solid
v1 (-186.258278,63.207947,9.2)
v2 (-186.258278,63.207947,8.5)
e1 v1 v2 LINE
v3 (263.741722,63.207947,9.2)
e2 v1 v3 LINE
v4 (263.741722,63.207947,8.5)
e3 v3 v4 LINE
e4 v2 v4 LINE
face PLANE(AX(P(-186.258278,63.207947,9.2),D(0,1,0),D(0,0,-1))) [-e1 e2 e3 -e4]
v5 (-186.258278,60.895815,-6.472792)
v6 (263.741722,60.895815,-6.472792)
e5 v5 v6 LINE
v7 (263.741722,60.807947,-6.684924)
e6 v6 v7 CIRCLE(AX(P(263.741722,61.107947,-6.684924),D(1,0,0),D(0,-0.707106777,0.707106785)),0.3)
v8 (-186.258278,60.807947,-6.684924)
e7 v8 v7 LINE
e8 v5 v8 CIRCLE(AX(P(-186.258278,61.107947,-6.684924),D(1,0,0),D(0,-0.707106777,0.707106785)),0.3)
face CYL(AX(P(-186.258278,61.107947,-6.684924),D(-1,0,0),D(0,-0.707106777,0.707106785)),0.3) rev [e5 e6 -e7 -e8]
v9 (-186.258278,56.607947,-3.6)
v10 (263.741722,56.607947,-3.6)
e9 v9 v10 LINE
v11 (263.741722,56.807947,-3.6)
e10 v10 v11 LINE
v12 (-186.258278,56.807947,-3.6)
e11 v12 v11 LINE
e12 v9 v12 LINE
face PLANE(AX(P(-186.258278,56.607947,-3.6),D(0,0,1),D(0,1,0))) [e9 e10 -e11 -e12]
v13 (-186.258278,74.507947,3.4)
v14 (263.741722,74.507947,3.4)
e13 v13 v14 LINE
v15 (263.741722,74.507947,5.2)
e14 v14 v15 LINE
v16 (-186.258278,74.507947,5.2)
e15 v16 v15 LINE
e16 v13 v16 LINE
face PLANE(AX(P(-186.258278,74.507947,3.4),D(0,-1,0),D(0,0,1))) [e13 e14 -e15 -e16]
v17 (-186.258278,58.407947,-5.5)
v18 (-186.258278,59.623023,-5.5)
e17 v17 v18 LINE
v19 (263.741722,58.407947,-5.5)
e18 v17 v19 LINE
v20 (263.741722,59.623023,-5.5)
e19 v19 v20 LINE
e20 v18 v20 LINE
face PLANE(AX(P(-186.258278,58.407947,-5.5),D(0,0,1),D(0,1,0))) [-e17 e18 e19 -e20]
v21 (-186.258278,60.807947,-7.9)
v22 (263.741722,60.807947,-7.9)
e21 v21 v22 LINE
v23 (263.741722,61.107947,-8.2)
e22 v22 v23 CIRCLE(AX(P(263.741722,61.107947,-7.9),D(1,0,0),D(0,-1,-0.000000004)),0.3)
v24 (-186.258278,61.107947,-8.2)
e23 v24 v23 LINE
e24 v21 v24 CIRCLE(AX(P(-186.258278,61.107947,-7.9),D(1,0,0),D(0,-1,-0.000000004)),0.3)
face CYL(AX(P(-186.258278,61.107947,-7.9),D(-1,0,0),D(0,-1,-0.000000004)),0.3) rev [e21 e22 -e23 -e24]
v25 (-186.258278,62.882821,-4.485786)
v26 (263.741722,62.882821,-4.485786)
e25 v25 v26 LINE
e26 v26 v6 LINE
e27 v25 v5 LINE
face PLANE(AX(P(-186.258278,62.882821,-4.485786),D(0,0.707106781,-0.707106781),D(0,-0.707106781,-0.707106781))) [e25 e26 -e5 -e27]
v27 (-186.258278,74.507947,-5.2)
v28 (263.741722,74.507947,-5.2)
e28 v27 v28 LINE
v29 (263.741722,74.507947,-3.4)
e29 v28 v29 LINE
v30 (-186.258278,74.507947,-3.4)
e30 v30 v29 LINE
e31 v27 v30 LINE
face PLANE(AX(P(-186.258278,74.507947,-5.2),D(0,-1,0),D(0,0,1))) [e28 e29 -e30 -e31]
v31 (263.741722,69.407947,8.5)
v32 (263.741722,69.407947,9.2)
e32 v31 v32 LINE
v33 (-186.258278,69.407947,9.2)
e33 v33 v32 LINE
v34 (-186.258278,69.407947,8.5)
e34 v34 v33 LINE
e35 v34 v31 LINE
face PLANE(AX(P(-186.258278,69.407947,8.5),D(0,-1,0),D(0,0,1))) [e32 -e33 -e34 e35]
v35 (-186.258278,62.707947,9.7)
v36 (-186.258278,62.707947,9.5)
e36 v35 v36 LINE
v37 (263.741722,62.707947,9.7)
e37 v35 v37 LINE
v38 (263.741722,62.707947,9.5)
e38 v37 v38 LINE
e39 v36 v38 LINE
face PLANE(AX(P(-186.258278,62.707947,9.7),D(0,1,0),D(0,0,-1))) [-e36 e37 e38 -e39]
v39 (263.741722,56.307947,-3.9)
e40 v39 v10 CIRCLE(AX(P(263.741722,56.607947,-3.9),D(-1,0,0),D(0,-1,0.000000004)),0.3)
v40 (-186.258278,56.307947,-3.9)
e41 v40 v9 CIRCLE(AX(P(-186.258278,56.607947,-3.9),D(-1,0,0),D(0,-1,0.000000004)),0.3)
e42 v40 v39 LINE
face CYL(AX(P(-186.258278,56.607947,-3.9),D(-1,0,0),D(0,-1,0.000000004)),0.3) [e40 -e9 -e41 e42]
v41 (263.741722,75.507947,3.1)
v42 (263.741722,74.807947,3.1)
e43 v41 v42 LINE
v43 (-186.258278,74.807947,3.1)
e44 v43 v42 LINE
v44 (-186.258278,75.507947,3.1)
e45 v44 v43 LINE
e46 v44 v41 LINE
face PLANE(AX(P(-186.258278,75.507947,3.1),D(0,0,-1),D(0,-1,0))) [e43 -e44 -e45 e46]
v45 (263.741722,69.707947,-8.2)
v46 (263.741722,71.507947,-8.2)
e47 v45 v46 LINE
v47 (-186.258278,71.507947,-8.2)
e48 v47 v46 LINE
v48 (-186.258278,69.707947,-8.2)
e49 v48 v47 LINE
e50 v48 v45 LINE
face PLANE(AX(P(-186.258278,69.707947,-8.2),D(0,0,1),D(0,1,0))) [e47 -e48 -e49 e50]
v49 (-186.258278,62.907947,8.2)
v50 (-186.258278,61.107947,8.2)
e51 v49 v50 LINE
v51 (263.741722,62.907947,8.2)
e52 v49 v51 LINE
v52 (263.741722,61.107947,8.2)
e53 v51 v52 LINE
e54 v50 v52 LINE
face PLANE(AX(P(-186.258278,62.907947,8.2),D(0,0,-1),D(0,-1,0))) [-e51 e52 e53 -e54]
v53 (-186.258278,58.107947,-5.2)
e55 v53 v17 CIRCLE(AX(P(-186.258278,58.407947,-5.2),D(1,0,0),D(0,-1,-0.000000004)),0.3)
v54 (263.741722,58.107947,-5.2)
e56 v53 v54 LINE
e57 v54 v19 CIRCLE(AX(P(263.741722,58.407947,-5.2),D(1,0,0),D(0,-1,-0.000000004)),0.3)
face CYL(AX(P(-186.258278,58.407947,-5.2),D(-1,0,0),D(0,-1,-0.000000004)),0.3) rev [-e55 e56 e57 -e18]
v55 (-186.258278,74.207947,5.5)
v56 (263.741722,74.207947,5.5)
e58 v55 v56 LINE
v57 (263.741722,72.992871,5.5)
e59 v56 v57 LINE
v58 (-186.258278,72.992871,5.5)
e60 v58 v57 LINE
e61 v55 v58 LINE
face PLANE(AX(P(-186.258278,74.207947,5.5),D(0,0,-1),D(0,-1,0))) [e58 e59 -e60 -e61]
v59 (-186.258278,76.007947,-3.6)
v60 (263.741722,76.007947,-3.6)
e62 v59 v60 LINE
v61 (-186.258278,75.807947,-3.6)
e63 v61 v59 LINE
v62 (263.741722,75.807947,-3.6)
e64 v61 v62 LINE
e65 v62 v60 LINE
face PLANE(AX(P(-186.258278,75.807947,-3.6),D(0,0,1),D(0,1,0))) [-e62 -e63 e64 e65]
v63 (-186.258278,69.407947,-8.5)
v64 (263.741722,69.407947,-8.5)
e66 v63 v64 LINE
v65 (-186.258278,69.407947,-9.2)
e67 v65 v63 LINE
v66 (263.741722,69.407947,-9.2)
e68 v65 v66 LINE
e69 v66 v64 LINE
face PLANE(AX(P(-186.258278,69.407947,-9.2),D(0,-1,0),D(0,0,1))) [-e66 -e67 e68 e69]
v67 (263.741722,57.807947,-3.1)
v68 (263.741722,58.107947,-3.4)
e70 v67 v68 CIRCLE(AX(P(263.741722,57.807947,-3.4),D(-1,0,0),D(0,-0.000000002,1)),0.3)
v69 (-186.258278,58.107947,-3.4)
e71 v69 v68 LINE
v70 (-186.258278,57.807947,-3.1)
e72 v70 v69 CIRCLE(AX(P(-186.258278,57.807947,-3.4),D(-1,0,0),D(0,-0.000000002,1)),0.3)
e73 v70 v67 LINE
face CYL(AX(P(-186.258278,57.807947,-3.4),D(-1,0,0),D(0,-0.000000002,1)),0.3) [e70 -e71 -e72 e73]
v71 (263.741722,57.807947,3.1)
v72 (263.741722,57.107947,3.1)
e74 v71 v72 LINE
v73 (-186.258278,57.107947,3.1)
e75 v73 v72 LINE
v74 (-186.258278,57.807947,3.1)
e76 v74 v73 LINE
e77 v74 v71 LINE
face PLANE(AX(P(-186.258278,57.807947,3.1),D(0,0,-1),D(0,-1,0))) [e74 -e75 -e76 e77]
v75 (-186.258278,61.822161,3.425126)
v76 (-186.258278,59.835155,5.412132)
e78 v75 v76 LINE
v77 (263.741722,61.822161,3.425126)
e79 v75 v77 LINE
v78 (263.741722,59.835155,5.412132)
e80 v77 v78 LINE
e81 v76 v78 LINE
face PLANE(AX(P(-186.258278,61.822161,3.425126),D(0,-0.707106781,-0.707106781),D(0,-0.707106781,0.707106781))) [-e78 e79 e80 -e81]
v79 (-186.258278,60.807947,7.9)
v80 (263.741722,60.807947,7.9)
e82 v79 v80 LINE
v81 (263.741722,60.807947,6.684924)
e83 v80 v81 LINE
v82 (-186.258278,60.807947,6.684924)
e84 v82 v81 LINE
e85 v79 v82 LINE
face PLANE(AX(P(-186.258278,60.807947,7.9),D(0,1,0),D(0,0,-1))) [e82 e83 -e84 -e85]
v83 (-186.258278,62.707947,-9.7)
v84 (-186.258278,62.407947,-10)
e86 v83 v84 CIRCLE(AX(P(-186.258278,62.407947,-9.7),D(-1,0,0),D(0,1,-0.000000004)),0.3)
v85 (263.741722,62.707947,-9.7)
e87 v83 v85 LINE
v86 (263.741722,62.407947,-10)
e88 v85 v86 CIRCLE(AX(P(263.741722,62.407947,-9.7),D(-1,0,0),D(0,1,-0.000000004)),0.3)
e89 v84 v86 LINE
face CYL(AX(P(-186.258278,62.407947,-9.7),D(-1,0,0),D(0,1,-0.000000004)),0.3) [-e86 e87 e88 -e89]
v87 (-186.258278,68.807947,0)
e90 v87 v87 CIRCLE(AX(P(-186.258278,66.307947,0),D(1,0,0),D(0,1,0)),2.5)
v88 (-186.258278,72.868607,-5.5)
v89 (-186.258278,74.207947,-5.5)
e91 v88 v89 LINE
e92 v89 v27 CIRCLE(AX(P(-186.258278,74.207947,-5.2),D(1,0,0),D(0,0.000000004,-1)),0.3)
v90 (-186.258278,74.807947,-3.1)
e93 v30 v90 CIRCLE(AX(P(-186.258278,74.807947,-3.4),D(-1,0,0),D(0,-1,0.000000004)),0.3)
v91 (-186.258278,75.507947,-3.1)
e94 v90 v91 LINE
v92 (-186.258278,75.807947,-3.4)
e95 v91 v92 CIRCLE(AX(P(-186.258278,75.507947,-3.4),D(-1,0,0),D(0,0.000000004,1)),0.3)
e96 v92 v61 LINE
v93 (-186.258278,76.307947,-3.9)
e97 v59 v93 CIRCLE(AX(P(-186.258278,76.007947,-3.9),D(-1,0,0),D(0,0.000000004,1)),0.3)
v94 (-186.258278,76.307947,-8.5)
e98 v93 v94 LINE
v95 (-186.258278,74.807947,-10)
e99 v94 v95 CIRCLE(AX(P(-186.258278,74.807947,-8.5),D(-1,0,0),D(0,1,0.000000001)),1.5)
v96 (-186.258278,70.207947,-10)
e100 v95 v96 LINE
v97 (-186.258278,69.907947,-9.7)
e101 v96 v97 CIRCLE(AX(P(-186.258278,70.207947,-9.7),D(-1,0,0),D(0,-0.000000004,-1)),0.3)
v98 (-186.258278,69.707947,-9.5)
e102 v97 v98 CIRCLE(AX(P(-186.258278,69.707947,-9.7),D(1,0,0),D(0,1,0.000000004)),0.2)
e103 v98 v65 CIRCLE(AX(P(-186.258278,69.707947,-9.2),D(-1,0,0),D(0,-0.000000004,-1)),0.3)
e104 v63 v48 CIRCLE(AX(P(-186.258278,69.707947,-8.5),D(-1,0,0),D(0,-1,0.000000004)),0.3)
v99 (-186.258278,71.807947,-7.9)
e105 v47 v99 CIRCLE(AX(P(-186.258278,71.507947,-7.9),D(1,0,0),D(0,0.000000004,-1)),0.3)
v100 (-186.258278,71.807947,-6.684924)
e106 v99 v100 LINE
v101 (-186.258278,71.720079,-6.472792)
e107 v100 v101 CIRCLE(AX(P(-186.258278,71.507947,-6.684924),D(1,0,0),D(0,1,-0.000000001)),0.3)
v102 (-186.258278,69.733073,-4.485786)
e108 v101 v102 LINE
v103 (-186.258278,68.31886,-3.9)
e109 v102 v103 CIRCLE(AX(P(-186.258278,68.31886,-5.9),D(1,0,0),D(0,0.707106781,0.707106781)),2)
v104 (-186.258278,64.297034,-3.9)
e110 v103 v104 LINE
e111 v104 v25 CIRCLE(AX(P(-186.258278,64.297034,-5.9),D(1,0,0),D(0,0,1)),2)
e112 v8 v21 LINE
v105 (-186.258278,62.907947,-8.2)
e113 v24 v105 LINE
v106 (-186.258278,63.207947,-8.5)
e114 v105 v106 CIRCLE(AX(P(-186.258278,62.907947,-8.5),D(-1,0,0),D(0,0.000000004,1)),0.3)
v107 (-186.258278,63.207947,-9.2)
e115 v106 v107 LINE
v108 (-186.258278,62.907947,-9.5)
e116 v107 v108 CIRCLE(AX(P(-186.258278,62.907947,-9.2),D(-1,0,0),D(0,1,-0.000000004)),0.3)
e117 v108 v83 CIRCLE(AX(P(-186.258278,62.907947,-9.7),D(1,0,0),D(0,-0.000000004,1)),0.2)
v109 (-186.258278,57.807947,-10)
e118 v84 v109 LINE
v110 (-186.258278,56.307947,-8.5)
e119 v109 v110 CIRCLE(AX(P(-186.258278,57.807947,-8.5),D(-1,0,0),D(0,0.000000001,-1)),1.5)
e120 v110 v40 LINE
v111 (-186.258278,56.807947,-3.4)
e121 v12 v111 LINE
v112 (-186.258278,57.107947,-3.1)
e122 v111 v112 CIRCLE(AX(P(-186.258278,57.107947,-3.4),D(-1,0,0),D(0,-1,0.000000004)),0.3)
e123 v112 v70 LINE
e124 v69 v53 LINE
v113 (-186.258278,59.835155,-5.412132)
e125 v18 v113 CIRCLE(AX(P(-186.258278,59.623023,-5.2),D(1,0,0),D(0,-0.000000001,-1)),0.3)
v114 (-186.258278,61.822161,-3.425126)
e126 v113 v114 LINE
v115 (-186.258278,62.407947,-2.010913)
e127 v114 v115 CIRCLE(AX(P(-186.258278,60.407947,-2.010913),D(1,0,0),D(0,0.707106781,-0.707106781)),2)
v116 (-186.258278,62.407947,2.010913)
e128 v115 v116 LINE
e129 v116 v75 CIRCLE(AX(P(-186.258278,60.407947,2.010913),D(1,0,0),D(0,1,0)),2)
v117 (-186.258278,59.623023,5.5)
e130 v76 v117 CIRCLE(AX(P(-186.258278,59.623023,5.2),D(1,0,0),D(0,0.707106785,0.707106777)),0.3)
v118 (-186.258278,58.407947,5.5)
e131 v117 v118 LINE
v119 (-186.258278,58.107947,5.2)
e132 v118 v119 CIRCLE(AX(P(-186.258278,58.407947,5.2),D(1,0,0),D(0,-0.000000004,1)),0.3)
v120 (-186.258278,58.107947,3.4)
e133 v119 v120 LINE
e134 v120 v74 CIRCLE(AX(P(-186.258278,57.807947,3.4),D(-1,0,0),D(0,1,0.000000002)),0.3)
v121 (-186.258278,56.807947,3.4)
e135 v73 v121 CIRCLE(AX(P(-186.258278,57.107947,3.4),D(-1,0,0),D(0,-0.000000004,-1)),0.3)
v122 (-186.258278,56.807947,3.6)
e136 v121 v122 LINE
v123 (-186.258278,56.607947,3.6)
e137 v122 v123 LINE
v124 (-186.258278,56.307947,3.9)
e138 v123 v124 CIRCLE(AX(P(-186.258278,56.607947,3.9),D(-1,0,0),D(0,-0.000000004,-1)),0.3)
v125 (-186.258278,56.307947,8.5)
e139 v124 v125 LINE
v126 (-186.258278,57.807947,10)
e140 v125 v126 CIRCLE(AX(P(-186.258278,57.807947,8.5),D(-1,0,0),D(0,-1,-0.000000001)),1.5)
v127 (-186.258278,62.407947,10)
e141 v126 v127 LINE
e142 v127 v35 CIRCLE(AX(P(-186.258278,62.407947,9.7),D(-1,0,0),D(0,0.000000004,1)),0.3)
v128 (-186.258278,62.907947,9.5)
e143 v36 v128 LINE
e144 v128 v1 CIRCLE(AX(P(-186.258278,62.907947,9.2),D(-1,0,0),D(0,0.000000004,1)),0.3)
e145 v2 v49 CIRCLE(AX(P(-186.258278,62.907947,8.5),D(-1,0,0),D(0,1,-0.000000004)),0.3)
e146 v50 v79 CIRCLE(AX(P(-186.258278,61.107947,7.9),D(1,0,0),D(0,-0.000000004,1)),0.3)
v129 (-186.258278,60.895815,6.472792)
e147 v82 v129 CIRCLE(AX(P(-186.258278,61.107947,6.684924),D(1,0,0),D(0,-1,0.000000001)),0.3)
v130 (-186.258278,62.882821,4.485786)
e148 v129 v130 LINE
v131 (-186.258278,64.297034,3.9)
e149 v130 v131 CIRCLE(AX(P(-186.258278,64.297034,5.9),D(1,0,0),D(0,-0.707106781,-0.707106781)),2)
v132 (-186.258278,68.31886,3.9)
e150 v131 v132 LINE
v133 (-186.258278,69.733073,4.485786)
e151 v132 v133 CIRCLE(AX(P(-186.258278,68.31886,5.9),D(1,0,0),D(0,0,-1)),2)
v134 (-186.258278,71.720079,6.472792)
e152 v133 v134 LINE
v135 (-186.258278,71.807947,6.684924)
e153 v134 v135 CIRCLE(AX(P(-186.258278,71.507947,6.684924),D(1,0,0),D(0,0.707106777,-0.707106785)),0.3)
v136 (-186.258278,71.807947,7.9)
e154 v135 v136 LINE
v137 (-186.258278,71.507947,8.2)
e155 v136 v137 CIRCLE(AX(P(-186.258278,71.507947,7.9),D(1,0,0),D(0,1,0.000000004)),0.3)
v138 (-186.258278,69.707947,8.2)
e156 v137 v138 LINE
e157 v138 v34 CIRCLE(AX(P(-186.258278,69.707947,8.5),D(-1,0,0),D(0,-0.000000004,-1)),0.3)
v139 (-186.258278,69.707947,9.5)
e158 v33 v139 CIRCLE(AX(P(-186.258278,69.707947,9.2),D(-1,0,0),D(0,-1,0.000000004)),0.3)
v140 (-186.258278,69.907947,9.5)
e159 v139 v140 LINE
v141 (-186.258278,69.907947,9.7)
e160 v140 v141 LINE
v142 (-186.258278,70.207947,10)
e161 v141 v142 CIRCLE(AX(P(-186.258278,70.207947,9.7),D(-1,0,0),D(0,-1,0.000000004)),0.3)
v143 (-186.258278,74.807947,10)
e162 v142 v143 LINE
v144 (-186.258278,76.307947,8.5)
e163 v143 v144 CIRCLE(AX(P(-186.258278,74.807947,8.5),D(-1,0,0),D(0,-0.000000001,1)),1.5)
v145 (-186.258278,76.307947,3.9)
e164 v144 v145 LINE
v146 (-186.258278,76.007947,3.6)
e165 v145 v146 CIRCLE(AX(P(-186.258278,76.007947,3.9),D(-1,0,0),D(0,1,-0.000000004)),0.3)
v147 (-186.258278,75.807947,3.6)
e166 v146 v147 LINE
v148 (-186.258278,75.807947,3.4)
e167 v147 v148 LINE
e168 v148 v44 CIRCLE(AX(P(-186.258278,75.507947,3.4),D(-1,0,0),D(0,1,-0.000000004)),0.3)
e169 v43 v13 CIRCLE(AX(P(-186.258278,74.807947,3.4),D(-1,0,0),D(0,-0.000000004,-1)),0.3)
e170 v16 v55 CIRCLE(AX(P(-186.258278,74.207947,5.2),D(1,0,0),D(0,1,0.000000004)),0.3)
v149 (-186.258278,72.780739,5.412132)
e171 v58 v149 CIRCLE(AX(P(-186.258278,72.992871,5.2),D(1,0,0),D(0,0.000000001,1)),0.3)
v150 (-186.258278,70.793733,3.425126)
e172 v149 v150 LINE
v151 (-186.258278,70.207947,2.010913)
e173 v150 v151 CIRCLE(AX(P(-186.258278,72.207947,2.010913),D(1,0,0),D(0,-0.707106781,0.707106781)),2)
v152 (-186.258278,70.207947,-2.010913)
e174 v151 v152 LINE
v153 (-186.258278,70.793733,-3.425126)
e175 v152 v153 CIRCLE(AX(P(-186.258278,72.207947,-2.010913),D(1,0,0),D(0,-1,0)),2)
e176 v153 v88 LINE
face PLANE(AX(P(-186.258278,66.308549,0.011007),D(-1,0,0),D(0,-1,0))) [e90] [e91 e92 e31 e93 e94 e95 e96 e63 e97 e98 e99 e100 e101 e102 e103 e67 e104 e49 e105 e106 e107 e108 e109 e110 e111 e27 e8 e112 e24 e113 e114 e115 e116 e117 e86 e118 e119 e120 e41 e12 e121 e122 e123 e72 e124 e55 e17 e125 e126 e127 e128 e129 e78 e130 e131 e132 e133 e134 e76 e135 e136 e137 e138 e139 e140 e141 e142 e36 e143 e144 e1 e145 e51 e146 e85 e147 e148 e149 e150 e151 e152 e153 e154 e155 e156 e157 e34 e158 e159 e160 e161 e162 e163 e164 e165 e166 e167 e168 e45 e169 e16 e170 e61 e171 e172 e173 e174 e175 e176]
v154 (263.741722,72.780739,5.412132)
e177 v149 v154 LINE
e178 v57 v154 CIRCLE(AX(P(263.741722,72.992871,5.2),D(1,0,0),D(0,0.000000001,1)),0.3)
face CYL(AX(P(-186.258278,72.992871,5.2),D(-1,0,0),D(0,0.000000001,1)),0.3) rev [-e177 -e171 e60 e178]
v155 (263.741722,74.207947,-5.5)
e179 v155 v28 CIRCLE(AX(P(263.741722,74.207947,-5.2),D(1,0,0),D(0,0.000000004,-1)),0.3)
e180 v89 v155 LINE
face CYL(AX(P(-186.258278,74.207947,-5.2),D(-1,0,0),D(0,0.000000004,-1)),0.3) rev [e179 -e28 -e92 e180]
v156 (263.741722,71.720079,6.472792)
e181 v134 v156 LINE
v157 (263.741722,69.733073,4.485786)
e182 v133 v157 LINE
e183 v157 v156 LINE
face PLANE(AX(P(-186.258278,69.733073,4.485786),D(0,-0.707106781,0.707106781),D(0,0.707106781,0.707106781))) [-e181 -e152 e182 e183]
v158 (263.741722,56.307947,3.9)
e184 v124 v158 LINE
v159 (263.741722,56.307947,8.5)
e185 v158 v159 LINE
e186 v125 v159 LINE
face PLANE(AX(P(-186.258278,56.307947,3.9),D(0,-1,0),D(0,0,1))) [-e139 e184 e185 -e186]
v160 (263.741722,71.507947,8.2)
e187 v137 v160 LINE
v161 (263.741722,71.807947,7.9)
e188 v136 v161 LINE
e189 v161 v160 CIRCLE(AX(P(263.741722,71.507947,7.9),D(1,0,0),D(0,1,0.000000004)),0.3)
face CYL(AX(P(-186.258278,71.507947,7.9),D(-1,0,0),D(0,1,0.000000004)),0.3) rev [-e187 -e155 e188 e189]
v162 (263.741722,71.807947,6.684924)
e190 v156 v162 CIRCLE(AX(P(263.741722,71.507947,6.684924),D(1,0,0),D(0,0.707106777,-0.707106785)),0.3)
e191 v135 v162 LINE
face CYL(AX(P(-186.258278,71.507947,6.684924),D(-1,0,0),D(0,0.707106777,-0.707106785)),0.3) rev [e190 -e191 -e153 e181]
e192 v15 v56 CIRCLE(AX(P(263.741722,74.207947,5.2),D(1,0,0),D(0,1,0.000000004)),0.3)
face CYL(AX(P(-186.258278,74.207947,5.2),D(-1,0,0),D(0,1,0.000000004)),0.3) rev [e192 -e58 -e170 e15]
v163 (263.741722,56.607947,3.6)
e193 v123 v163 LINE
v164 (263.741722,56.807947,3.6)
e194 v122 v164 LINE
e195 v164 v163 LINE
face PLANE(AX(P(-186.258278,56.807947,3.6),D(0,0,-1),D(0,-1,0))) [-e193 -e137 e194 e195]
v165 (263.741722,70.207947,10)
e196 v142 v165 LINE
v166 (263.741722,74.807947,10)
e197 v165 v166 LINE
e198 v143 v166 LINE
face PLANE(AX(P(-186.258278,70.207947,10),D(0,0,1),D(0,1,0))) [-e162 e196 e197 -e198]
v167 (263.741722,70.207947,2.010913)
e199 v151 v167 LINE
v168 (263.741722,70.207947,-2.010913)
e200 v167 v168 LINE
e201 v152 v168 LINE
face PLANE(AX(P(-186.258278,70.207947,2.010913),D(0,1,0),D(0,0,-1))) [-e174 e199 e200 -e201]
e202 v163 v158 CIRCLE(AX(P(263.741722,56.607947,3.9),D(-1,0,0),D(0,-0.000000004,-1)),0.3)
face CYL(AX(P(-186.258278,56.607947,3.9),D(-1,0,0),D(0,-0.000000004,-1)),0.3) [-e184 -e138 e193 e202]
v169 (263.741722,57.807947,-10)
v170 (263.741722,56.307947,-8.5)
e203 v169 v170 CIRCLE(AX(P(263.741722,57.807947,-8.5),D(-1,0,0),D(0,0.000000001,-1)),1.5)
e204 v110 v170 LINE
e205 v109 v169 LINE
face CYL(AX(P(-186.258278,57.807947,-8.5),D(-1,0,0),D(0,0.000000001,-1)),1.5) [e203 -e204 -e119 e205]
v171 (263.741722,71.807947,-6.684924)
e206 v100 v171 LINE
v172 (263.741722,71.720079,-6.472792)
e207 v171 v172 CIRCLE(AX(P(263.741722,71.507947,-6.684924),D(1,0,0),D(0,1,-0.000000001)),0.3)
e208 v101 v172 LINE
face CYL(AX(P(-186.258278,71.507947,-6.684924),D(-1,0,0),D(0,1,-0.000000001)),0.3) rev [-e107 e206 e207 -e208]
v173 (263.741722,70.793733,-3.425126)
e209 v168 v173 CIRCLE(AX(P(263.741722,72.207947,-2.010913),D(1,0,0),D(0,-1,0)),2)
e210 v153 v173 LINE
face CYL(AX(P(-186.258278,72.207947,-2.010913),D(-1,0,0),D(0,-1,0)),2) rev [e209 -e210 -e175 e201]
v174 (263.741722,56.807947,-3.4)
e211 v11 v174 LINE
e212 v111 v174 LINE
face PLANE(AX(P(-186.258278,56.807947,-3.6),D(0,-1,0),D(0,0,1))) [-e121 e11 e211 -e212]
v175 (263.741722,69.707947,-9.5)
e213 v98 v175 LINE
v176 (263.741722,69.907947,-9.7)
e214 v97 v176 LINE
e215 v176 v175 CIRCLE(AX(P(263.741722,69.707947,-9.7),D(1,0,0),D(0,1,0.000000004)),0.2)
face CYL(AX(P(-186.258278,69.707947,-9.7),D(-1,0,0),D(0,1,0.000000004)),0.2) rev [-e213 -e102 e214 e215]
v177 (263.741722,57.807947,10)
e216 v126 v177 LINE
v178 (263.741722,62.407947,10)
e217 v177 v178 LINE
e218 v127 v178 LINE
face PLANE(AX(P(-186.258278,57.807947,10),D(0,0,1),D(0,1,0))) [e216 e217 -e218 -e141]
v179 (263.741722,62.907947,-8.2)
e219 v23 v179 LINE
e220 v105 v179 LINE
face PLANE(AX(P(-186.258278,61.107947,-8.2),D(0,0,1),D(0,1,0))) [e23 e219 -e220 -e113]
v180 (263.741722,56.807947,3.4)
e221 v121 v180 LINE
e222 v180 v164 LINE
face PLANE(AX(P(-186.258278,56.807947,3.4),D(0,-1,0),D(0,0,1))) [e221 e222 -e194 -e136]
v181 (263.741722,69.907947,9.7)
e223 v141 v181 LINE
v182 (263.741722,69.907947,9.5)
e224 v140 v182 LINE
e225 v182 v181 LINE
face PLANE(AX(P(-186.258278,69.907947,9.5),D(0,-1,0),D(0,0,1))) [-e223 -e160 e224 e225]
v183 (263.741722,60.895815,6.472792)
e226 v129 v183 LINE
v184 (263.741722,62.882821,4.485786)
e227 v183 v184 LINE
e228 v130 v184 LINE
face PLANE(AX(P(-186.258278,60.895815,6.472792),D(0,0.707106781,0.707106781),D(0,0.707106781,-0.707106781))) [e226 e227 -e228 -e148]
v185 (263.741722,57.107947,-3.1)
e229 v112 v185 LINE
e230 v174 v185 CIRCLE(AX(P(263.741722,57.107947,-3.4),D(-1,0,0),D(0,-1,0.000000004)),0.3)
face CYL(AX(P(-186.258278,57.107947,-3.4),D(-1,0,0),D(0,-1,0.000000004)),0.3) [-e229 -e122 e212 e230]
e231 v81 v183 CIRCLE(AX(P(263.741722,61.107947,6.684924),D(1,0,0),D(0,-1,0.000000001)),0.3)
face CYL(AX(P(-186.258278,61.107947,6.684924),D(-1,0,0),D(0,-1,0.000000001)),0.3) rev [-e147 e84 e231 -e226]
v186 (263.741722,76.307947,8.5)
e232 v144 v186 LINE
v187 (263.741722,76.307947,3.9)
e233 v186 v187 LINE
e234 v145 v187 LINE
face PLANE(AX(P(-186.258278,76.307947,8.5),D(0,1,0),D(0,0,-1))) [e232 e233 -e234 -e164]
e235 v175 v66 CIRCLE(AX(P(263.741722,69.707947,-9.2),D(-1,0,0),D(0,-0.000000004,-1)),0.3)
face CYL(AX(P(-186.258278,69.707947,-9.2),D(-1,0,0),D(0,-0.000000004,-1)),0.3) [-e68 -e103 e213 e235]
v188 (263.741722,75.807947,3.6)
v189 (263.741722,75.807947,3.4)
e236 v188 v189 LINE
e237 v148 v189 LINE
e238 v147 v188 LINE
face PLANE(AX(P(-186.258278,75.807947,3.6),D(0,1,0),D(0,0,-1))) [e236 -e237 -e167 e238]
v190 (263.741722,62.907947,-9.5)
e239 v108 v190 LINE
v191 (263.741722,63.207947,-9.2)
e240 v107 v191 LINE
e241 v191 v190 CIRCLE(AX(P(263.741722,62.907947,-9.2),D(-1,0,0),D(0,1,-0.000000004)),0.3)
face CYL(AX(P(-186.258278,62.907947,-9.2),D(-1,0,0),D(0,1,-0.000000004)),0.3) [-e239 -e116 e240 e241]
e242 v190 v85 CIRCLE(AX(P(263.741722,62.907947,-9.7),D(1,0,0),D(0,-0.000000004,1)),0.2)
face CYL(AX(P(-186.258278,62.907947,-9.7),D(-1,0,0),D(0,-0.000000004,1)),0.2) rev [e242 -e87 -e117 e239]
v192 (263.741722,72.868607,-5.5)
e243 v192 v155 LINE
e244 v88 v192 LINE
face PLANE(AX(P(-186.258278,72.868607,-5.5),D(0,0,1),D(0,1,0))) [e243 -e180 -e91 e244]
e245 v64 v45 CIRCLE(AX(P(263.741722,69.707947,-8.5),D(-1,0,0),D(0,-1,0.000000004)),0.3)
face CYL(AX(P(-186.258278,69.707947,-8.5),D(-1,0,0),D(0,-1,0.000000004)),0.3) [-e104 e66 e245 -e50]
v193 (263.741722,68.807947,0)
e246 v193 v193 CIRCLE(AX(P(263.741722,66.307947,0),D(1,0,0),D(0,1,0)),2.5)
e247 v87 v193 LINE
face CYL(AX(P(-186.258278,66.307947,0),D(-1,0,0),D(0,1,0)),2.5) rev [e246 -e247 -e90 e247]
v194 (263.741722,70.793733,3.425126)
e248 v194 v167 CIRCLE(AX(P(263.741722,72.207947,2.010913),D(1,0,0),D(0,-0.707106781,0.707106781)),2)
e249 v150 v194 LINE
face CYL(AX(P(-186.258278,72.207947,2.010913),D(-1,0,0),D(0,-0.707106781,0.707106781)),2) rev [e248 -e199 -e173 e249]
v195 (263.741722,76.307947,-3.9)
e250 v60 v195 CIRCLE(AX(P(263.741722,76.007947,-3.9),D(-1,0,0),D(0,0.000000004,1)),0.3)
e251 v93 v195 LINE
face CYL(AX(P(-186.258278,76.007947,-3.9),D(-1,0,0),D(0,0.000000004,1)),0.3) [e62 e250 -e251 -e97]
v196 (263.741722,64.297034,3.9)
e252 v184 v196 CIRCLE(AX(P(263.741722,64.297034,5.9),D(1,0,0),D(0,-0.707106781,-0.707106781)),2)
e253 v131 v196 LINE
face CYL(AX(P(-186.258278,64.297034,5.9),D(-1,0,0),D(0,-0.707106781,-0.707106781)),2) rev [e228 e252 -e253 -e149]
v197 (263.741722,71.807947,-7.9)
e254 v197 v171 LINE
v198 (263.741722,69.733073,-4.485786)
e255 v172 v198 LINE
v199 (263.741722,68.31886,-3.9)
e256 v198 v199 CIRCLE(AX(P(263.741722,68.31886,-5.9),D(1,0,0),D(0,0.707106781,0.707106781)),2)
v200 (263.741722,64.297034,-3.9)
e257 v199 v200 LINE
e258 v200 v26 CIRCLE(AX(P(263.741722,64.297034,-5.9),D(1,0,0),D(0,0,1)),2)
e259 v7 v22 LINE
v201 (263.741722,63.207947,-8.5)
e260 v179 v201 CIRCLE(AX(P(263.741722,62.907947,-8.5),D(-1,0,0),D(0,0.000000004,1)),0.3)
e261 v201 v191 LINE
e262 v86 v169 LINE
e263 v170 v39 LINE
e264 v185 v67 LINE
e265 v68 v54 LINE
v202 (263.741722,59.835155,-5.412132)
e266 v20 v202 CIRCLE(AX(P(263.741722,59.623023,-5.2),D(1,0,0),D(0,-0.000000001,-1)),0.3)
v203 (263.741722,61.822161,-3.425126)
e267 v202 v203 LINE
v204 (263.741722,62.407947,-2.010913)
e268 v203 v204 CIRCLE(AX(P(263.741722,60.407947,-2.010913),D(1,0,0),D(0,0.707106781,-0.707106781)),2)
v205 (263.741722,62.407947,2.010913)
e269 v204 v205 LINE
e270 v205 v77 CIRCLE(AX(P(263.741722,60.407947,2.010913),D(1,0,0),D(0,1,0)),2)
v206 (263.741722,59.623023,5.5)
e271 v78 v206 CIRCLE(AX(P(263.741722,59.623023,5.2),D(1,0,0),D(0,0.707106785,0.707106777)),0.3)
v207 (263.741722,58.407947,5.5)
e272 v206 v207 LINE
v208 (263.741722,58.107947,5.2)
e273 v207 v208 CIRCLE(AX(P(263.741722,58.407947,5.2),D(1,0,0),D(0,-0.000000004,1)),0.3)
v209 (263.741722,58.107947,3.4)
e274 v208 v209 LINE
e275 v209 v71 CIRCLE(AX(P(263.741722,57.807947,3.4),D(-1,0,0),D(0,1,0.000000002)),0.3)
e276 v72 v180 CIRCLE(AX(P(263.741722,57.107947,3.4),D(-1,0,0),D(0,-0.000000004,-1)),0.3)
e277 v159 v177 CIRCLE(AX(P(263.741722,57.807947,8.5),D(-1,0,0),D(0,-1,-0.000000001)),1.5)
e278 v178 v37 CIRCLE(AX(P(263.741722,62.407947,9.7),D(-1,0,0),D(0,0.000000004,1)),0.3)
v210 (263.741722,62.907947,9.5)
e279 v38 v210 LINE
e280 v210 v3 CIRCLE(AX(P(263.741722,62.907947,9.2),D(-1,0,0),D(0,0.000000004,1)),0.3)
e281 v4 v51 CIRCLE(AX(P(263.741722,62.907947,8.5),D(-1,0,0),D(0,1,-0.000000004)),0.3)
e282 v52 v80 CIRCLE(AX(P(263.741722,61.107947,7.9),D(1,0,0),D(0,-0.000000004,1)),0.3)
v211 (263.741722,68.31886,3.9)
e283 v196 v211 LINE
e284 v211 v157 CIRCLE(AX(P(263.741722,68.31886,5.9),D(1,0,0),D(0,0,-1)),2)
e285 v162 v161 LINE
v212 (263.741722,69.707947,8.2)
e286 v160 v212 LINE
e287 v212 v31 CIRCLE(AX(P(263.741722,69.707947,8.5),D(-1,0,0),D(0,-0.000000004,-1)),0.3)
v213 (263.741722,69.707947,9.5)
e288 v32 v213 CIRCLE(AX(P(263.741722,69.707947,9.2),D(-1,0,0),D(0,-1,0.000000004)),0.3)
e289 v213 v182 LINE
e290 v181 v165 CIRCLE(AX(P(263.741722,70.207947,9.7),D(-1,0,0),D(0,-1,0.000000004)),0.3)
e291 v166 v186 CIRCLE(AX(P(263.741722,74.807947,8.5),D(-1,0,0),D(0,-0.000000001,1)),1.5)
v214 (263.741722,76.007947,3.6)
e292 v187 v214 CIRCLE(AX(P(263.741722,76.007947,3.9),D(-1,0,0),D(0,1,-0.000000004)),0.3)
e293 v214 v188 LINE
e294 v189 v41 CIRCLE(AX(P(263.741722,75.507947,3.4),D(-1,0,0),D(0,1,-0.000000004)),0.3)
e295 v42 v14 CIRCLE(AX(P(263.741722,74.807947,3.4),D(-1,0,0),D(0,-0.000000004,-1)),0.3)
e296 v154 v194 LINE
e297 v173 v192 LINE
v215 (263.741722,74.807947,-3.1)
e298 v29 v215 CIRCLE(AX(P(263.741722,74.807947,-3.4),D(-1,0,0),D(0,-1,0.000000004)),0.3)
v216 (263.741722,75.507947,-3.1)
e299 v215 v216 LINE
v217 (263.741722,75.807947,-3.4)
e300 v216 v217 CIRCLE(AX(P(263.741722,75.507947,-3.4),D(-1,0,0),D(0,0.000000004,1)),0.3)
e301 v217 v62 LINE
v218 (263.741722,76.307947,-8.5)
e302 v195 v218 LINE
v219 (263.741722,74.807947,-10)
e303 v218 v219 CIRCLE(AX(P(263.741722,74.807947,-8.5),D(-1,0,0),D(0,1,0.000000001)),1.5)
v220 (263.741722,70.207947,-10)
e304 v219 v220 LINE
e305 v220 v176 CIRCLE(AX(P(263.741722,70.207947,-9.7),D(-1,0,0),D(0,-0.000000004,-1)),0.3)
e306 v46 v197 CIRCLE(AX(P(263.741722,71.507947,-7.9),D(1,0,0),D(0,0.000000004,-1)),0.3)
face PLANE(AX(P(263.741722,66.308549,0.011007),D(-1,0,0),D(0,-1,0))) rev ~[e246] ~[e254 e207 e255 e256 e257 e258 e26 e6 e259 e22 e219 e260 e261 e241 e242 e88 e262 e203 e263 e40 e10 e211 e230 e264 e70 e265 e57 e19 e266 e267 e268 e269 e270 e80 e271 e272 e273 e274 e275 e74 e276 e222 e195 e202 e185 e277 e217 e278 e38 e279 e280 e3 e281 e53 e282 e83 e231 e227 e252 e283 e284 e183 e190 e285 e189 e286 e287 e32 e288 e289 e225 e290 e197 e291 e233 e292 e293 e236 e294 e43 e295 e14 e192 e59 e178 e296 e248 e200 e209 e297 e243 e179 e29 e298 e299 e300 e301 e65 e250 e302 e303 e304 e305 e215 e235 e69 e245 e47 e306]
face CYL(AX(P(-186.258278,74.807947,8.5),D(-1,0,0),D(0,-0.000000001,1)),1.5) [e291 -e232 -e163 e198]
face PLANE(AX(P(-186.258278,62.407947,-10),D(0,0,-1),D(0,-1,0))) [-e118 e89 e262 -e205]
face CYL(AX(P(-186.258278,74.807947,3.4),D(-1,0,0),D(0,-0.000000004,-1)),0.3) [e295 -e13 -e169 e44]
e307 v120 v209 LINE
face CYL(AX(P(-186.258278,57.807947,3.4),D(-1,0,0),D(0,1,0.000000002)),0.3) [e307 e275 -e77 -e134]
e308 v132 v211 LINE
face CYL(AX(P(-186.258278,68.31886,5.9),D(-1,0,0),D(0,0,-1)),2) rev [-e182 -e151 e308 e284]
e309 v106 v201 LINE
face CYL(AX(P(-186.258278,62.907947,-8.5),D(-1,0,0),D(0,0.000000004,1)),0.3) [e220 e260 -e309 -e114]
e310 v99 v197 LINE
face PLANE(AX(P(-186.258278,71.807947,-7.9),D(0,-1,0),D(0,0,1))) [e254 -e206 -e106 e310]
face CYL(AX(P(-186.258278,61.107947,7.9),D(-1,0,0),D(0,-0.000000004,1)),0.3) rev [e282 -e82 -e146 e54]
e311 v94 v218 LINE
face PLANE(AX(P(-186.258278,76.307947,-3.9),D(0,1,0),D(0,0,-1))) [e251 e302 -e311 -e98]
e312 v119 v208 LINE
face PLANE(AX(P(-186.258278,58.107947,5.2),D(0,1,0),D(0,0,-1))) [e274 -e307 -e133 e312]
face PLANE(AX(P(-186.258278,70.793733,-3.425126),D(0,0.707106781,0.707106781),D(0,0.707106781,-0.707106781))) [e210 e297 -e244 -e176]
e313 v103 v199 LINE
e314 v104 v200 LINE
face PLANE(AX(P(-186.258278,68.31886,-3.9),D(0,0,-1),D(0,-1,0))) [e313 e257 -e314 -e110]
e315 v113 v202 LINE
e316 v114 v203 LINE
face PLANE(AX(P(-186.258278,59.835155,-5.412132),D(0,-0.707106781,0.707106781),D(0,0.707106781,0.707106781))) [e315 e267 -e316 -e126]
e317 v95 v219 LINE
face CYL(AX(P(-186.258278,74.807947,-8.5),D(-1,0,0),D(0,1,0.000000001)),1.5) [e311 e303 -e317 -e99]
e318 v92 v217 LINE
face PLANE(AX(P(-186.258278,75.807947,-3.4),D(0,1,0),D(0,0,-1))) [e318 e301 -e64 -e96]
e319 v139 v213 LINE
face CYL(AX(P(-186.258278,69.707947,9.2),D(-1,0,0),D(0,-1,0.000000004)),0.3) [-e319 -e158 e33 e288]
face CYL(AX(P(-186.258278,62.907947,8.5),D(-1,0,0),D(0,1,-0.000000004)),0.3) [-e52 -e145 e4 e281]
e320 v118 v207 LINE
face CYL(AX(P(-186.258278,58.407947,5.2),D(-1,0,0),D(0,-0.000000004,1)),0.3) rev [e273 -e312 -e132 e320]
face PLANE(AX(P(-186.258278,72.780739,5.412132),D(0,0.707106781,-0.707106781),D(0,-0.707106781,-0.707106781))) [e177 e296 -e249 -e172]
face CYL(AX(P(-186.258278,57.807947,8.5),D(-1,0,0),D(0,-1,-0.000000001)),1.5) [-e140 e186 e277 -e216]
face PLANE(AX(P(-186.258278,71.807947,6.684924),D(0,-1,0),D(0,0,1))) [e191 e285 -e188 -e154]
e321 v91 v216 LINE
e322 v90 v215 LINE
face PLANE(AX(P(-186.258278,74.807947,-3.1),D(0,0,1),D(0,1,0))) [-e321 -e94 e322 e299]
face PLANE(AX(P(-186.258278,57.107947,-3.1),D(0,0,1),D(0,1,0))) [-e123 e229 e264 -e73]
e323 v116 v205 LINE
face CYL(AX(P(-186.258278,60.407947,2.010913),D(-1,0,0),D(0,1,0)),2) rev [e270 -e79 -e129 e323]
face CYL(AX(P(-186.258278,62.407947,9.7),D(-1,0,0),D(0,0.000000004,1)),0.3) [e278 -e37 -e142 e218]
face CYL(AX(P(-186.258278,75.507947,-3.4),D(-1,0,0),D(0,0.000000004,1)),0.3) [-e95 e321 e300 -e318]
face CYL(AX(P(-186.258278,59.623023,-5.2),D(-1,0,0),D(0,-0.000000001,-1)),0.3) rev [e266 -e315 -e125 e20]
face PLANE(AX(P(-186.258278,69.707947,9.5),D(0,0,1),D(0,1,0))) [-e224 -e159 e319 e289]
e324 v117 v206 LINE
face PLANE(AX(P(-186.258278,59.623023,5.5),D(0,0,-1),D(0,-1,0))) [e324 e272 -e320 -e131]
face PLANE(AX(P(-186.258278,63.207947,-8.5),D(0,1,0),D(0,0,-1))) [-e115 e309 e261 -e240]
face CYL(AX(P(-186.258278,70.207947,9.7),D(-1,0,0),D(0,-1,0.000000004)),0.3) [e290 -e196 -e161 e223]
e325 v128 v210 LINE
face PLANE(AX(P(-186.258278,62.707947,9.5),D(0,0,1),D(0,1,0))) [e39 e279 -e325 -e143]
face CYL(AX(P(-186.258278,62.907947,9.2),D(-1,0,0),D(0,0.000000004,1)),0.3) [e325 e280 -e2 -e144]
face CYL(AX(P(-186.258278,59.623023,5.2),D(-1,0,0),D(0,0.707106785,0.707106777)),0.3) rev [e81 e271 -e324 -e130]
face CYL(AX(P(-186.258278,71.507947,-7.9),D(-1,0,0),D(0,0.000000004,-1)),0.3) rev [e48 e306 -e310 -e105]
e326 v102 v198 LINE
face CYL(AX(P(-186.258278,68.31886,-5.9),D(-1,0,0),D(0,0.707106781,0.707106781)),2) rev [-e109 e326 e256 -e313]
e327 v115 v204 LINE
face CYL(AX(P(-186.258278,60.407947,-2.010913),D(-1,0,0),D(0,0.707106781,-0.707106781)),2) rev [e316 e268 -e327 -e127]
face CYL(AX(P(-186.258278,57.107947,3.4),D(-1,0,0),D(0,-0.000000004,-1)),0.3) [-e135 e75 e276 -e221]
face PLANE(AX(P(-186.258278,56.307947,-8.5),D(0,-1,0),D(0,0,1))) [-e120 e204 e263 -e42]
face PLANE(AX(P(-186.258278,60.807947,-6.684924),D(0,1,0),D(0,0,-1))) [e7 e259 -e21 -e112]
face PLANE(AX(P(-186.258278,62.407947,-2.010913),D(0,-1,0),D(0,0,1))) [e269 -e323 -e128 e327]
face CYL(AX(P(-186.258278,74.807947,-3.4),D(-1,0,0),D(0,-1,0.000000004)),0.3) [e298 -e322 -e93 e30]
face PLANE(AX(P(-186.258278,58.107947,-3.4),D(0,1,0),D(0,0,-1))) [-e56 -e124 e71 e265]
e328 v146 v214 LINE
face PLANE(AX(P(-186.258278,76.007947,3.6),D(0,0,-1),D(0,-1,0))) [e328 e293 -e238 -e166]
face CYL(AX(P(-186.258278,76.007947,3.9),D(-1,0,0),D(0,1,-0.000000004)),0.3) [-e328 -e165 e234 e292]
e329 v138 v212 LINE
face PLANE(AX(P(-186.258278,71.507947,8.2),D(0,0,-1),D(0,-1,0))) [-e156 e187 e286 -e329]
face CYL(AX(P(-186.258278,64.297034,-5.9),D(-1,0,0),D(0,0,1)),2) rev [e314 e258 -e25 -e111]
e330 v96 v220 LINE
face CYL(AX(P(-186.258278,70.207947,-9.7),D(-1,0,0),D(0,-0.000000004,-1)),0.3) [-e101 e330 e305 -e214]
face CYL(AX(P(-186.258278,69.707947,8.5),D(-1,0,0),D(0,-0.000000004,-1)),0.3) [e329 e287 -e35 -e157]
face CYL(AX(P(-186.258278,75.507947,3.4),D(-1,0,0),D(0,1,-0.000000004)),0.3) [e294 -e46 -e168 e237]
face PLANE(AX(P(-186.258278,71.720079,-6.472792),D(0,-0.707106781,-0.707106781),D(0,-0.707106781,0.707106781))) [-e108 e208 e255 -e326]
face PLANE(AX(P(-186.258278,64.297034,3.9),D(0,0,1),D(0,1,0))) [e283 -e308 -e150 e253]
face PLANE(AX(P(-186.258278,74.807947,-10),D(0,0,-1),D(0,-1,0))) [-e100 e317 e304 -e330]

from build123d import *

# Parameters (mm, degrees)
SKETCH_11_R            = 2.5
MEMBER_20_2020_1_DEPTH = 450


with BuildPart() as part:
    # 草图11 → Member 20 2020_1 (new body)
    with BuildSketch(Plane(origin=(-186.258278146, 66.30794702, 0), x_dir=(0, 1, 0), z_dir=(1, 0, 0))):
        with BuildLine():
            Line((3.9, 0), (3.9, -2.010912703))
            ThreePointArc((3.9, -2.010912703), (4.052240935, -2.776279568), (4.485786438, -3.425126266))
            Line((4.485786438, -3.425126266), (6.560660172, -5.5))
            Line((6.560660172, -5.5), (7.9, -5.5))
            ThreePointArc((7.9, -5.5), (8.112132034, -5.412132034), (8.2, -5.2))
            Line((8.2, -5.2), (8.2, -3.4))
            ThreePointArc((8.2, -3.4), (8.287867966, -3.187867966), (8.5, -3.1))
            Line((8.5, -3.1), (9.2, -3.1))
            ThreePointArc((9.2, -3.1), (9.412132034, -3.187867966), (9.5, -3.4))
            Line((9.5, -3.4), (9.5, -3.6))
            Line((9.5, -3.6), (9.7, -3.6))
            ThreePointArc((9.7, -3.6), (9.912132034, -3.687867966), (10, -3.9))
            Line((10, -3.9), (10, -8.5))
            ThreePointArc((10, -8.5), (9.560660172, -9.560660172), (8.5, -10))
            Line((8.5, -10), (3.9, -10))
            ThreePointArc((3.9, -10), (3.687867966, -9.912132034), (3.6, -9.7))
            ThreePointArc((3.6, -9.7), (3.541421356, -9.558578644), (3.4, -9.5))
            ThreePointArc((3.4, -9.5), (3.187867966, -9.412132034), (3.1, -9.2))
            Line((3.1, -9.2), (3.1, -8.5))
            ThreePointArc((3.1, -8.5), (3.187867966, -8.287867966), (3.4, -8.2))
            Line((3.4, -8.2), (5.2, -8.2))
            ThreePointArc((5.2, -8.2), (5.412132034, -8.112132034), (5.5, -7.9))
            Line((5.5, -7.9), (5.5, -6.68492424))
            ThreePointArc((5.5, -6.68492424), (5.47716386, -6.570119211), (5.412132034, -6.472792206))
            Line((5.412132034, -6.472792206), (3.425126266, -4.485786438))
            ThreePointArc((3.425126266, -4.485786438), (2.776279568, -4.052240935), (2.010912703, -3.9))
            Line((2.010912703, -3.9), (0, -3.9))
            Line((0, -3.9), (-2.010912703, -3.9))
            ThreePointArc((-2.010912703, -3.9), (-2.776279568, -4.052240935), (-3.425126266, -4.485786438))
            Line((-3.425126266, -4.485786438), (-5.412132034, -6.472792206))
            ThreePointArc((-5.412132034, -6.472792206), (-5.47716386, -6.570119211), (-5.5, -6.68492424))
            Line((-5.5, -6.68492424), (-5.5, -7.9))
            ThreePointArc((-5.5, -7.9), (-5.412132034, -8.112132034), (-5.2, -8.2))
            Line((-5.2, -8.2), (-3.4, -8.2))
            ThreePointArc((-3.4, -8.2), (-3.187867966, -8.287867966), (-3.1, -8.5))
            Line((-3.1, -8.5), (-3.1, -9.2))
            ThreePointArc((-3.1, -9.2), (-3.187867966, -9.412132034), (-3.4, -9.5))
            ThreePointArc((-3.4, -9.5), (-3.541421356, -9.558578644), (-3.6, -9.7))
            ThreePointArc((-3.6, -9.7), (-3.687867966, -9.912132034), (-3.9, -10))
            Line((-3.9, -10), (-8.5, -10))
            ThreePointArc((-8.5, -10), (-9.560660172, -9.560660172), (-10, -8.5))
            Line((-10, -8.5), (-10, -3.9))
            ThreePointArc((-10, -3.9), (-9.912132034, -3.687867966), (-9.7, -3.6))
            Line((-9.7, -3.6), (-9.5, -3.6))
            Line((-9.5, -3.6), (-9.5, -3.4))
            ThreePointArc((-9.5, -3.4), (-9.412132034, -3.187867966), (-9.2, -3.1))
            Line((-9.2, -3.1), (-8.5, -3.1))
            ThreePointArc((-8.5, -3.1), (-8.287867965, -3.187867966), (-8.2, -3.4))
            Line((-8.2, -3.4), (-8.2, -5.2))
            ThreePointArc((-8.2, -5.2), (-8.112132034, -5.412132034), (-7.9, -5.5))
            Line((-7.9, -5.5), (-6.68492424, -5.5))
            ThreePointArc((-6.68492424, -5.5), (-6.570119211, -5.47716386), (-6.472792206, -5.412132034))
            Line((-6.472792206, -5.412132034), (-4.485786438, -3.425126266))
            ThreePointArc((-4.485786438, -3.425126266), (-4.052240935, -2.776279568), (-3.9, -2.010912703))
            Line((-3.9, -2.010912703), (-3.9, 0))
            Line((-3.9, 0), (-3.9, 2.010912703))
            ThreePointArc((-3.9, 2.010912703), (-4.052240935, 2.776279568), (-4.485786438, 3.425126266))
            Line((-4.485786438, 3.425126266), (-6.472792206, 5.412132034))
            ThreePointArc((-6.472792206, 5.412132034), (-6.570119211, 5.47716386), (-6.68492424, 5.5))
            Line((-6.68492424, 5.5), (-7.9, 5.5))
            ThreePointArc((-7.9, 5.5), (-8.112132034, 5.412132034), (-8.2, 5.2))
            Line((-8.2, 5.2), (-8.2, 3.4))
            ThreePointArc((-8.2, 3.4), (-8.287867965, 3.187867966), (-8.5, 3.1))
            Line((-8.5, 3.1), (-9.2, 3.1))
            ThreePointArc((-9.2, 3.1), (-9.412132034, 3.187867966), (-9.5, 3.4))
            Line((-9.5, 3.4), (-9.5, 3.6))
            Line((-9.5, 3.6), (-9.7, 3.6))
            ThreePointArc((-9.7, 3.6), (-9.912132034, 3.687867966), (-10, 3.9))
            Line((-10, 3.9), (-10, 8.5))
            ThreePointArc((-10, 8.5), (-9.560660172, 9.560660172), (-8.5, 10))
            Line((-8.5, 10), (-3.9, 10))
            ThreePointArc((-3.9, 10), (-3.687867966, 9.912132034), (-3.6, 9.7))
            Line((-3.6, 9.7), (-3.6, 9.5))
            Line((-3.6, 9.5), (-3.4, 9.5))
            ThreePointArc((-3.4, 9.5), (-3.187867966, 9.412132034), (-3.1, 9.2))
            Line((-3.1, 9.2), (-3.1, 8.5))
            ThreePointArc((-3.1, 8.5), (-3.187867966, 8.287867966), (-3.4, 8.2))
            Line((-3.4, 8.2), (-5.2, 8.2))
            ThreePointArc((-5.2, 8.2), (-5.412132034, 8.112132034), (-5.5, 7.9))
            Line((-5.5, 7.9), (-5.5, 6.68492424))
            ThreePointArc((-5.5, 6.68492424), (-5.47716386, 6.570119211), (-5.412132034, 6.472792206))
            Line((-5.412132034, 6.472792206), (-3.425126266, 4.485786438))
            ThreePointArc((-3.425126266, 4.485786438), (-2.776279568, 4.052240935), (-2.010912703, 3.9))
            Line((-2.010912703, 3.9), (0, 3.9))
            Line((0, 3.9), (2.010912703, 3.9))
            ThreePointArc((2.010912703, 3.9), (2.776279568, 4.052240935), (3.425126266, 4.485786438))
            Line((3.425126266, 4.485786438), (5.412132034, 6.472792206))
            ThreePointArc((5.412132034, 6.472792206), (5.47716386, 6.570119211), (5.5, 6.68492424))
            Line((5.5, 6.68492424), (5.5, 7.9))
            ThreePointArc((5.5, 7.9), (5.412132034, 8.112132034), (5.2, 8.2))
            Line((5.2, 8.2), (3.4, 8.2))
            ThreePointArc((3.4, 8.2), (3.187867966, 8.287867966), (3.1, 8.5))
            Line((3.1, 8.5), (3.1, 9.2))
            ThreePointArc((3.1, 9.2), (3.187867966, 9.412132034), (3.4, 9.5))
            Line((3.4, 9.5), (3.6, 9.5))
            Line((3.6, 9.5), (3.6, 9.7))
            ThreePointArc((3.6, 9.7), (3.687867966, 9.912132034), (3.9, 10))
            Line((3.9, 10), (8.5, 10))
            ThreePointArc((8.5, 10), (9.560660172, 9.560660172), (10, 8.5))
            Line((10, 8.5), (10, 3.9))
            ThreePointArc((10, 3.9), (9.912132034, 3.687867966), (9.7, 3.6))
            Line((9.7, 3.6), (9.5, 3.6))
            Line((9.5, 3.6), (9.5, 3.4))
            ThreePointArc((9.5, 3.4), (9.412132034, 3.187867966), (9.2, 3.1))
            Line((9.2, 3.1), (8.5, 3.1))
            ThreePointArc((8.5, 3.1), (8.287867966, 3.187867966), (8.2, 3.4))
            Line((8.2, 3.4), (8.2, 5.2))
            ThreePointArc((8.2, 5.2), (8.112132034, 5.412132034), (7.9, 5.5))
            Line((7.9, 5.5), (6.68492424, 5.5))
            ThreePointArc((6.68492424, 5.5), (6.570119211, 5.47716386), (6.472792206, 5.412132034))
            Line((6.472792206, 5.412132034), (4.485786438, 3.425126266))
            ThreePointArc((4.485786438, 3.425126266), (4.052240935, 2.776279568), (3.9, 2.010912703))
            Line((3.9, 2.010912703), (3.9, 0))
        make_face()
        Circle(SKETCH_11_R, mode=Mode.SUBTRACT)
    extrude(amount=MEMBER_20_2020_1_DEPTH)


solid = part.part
